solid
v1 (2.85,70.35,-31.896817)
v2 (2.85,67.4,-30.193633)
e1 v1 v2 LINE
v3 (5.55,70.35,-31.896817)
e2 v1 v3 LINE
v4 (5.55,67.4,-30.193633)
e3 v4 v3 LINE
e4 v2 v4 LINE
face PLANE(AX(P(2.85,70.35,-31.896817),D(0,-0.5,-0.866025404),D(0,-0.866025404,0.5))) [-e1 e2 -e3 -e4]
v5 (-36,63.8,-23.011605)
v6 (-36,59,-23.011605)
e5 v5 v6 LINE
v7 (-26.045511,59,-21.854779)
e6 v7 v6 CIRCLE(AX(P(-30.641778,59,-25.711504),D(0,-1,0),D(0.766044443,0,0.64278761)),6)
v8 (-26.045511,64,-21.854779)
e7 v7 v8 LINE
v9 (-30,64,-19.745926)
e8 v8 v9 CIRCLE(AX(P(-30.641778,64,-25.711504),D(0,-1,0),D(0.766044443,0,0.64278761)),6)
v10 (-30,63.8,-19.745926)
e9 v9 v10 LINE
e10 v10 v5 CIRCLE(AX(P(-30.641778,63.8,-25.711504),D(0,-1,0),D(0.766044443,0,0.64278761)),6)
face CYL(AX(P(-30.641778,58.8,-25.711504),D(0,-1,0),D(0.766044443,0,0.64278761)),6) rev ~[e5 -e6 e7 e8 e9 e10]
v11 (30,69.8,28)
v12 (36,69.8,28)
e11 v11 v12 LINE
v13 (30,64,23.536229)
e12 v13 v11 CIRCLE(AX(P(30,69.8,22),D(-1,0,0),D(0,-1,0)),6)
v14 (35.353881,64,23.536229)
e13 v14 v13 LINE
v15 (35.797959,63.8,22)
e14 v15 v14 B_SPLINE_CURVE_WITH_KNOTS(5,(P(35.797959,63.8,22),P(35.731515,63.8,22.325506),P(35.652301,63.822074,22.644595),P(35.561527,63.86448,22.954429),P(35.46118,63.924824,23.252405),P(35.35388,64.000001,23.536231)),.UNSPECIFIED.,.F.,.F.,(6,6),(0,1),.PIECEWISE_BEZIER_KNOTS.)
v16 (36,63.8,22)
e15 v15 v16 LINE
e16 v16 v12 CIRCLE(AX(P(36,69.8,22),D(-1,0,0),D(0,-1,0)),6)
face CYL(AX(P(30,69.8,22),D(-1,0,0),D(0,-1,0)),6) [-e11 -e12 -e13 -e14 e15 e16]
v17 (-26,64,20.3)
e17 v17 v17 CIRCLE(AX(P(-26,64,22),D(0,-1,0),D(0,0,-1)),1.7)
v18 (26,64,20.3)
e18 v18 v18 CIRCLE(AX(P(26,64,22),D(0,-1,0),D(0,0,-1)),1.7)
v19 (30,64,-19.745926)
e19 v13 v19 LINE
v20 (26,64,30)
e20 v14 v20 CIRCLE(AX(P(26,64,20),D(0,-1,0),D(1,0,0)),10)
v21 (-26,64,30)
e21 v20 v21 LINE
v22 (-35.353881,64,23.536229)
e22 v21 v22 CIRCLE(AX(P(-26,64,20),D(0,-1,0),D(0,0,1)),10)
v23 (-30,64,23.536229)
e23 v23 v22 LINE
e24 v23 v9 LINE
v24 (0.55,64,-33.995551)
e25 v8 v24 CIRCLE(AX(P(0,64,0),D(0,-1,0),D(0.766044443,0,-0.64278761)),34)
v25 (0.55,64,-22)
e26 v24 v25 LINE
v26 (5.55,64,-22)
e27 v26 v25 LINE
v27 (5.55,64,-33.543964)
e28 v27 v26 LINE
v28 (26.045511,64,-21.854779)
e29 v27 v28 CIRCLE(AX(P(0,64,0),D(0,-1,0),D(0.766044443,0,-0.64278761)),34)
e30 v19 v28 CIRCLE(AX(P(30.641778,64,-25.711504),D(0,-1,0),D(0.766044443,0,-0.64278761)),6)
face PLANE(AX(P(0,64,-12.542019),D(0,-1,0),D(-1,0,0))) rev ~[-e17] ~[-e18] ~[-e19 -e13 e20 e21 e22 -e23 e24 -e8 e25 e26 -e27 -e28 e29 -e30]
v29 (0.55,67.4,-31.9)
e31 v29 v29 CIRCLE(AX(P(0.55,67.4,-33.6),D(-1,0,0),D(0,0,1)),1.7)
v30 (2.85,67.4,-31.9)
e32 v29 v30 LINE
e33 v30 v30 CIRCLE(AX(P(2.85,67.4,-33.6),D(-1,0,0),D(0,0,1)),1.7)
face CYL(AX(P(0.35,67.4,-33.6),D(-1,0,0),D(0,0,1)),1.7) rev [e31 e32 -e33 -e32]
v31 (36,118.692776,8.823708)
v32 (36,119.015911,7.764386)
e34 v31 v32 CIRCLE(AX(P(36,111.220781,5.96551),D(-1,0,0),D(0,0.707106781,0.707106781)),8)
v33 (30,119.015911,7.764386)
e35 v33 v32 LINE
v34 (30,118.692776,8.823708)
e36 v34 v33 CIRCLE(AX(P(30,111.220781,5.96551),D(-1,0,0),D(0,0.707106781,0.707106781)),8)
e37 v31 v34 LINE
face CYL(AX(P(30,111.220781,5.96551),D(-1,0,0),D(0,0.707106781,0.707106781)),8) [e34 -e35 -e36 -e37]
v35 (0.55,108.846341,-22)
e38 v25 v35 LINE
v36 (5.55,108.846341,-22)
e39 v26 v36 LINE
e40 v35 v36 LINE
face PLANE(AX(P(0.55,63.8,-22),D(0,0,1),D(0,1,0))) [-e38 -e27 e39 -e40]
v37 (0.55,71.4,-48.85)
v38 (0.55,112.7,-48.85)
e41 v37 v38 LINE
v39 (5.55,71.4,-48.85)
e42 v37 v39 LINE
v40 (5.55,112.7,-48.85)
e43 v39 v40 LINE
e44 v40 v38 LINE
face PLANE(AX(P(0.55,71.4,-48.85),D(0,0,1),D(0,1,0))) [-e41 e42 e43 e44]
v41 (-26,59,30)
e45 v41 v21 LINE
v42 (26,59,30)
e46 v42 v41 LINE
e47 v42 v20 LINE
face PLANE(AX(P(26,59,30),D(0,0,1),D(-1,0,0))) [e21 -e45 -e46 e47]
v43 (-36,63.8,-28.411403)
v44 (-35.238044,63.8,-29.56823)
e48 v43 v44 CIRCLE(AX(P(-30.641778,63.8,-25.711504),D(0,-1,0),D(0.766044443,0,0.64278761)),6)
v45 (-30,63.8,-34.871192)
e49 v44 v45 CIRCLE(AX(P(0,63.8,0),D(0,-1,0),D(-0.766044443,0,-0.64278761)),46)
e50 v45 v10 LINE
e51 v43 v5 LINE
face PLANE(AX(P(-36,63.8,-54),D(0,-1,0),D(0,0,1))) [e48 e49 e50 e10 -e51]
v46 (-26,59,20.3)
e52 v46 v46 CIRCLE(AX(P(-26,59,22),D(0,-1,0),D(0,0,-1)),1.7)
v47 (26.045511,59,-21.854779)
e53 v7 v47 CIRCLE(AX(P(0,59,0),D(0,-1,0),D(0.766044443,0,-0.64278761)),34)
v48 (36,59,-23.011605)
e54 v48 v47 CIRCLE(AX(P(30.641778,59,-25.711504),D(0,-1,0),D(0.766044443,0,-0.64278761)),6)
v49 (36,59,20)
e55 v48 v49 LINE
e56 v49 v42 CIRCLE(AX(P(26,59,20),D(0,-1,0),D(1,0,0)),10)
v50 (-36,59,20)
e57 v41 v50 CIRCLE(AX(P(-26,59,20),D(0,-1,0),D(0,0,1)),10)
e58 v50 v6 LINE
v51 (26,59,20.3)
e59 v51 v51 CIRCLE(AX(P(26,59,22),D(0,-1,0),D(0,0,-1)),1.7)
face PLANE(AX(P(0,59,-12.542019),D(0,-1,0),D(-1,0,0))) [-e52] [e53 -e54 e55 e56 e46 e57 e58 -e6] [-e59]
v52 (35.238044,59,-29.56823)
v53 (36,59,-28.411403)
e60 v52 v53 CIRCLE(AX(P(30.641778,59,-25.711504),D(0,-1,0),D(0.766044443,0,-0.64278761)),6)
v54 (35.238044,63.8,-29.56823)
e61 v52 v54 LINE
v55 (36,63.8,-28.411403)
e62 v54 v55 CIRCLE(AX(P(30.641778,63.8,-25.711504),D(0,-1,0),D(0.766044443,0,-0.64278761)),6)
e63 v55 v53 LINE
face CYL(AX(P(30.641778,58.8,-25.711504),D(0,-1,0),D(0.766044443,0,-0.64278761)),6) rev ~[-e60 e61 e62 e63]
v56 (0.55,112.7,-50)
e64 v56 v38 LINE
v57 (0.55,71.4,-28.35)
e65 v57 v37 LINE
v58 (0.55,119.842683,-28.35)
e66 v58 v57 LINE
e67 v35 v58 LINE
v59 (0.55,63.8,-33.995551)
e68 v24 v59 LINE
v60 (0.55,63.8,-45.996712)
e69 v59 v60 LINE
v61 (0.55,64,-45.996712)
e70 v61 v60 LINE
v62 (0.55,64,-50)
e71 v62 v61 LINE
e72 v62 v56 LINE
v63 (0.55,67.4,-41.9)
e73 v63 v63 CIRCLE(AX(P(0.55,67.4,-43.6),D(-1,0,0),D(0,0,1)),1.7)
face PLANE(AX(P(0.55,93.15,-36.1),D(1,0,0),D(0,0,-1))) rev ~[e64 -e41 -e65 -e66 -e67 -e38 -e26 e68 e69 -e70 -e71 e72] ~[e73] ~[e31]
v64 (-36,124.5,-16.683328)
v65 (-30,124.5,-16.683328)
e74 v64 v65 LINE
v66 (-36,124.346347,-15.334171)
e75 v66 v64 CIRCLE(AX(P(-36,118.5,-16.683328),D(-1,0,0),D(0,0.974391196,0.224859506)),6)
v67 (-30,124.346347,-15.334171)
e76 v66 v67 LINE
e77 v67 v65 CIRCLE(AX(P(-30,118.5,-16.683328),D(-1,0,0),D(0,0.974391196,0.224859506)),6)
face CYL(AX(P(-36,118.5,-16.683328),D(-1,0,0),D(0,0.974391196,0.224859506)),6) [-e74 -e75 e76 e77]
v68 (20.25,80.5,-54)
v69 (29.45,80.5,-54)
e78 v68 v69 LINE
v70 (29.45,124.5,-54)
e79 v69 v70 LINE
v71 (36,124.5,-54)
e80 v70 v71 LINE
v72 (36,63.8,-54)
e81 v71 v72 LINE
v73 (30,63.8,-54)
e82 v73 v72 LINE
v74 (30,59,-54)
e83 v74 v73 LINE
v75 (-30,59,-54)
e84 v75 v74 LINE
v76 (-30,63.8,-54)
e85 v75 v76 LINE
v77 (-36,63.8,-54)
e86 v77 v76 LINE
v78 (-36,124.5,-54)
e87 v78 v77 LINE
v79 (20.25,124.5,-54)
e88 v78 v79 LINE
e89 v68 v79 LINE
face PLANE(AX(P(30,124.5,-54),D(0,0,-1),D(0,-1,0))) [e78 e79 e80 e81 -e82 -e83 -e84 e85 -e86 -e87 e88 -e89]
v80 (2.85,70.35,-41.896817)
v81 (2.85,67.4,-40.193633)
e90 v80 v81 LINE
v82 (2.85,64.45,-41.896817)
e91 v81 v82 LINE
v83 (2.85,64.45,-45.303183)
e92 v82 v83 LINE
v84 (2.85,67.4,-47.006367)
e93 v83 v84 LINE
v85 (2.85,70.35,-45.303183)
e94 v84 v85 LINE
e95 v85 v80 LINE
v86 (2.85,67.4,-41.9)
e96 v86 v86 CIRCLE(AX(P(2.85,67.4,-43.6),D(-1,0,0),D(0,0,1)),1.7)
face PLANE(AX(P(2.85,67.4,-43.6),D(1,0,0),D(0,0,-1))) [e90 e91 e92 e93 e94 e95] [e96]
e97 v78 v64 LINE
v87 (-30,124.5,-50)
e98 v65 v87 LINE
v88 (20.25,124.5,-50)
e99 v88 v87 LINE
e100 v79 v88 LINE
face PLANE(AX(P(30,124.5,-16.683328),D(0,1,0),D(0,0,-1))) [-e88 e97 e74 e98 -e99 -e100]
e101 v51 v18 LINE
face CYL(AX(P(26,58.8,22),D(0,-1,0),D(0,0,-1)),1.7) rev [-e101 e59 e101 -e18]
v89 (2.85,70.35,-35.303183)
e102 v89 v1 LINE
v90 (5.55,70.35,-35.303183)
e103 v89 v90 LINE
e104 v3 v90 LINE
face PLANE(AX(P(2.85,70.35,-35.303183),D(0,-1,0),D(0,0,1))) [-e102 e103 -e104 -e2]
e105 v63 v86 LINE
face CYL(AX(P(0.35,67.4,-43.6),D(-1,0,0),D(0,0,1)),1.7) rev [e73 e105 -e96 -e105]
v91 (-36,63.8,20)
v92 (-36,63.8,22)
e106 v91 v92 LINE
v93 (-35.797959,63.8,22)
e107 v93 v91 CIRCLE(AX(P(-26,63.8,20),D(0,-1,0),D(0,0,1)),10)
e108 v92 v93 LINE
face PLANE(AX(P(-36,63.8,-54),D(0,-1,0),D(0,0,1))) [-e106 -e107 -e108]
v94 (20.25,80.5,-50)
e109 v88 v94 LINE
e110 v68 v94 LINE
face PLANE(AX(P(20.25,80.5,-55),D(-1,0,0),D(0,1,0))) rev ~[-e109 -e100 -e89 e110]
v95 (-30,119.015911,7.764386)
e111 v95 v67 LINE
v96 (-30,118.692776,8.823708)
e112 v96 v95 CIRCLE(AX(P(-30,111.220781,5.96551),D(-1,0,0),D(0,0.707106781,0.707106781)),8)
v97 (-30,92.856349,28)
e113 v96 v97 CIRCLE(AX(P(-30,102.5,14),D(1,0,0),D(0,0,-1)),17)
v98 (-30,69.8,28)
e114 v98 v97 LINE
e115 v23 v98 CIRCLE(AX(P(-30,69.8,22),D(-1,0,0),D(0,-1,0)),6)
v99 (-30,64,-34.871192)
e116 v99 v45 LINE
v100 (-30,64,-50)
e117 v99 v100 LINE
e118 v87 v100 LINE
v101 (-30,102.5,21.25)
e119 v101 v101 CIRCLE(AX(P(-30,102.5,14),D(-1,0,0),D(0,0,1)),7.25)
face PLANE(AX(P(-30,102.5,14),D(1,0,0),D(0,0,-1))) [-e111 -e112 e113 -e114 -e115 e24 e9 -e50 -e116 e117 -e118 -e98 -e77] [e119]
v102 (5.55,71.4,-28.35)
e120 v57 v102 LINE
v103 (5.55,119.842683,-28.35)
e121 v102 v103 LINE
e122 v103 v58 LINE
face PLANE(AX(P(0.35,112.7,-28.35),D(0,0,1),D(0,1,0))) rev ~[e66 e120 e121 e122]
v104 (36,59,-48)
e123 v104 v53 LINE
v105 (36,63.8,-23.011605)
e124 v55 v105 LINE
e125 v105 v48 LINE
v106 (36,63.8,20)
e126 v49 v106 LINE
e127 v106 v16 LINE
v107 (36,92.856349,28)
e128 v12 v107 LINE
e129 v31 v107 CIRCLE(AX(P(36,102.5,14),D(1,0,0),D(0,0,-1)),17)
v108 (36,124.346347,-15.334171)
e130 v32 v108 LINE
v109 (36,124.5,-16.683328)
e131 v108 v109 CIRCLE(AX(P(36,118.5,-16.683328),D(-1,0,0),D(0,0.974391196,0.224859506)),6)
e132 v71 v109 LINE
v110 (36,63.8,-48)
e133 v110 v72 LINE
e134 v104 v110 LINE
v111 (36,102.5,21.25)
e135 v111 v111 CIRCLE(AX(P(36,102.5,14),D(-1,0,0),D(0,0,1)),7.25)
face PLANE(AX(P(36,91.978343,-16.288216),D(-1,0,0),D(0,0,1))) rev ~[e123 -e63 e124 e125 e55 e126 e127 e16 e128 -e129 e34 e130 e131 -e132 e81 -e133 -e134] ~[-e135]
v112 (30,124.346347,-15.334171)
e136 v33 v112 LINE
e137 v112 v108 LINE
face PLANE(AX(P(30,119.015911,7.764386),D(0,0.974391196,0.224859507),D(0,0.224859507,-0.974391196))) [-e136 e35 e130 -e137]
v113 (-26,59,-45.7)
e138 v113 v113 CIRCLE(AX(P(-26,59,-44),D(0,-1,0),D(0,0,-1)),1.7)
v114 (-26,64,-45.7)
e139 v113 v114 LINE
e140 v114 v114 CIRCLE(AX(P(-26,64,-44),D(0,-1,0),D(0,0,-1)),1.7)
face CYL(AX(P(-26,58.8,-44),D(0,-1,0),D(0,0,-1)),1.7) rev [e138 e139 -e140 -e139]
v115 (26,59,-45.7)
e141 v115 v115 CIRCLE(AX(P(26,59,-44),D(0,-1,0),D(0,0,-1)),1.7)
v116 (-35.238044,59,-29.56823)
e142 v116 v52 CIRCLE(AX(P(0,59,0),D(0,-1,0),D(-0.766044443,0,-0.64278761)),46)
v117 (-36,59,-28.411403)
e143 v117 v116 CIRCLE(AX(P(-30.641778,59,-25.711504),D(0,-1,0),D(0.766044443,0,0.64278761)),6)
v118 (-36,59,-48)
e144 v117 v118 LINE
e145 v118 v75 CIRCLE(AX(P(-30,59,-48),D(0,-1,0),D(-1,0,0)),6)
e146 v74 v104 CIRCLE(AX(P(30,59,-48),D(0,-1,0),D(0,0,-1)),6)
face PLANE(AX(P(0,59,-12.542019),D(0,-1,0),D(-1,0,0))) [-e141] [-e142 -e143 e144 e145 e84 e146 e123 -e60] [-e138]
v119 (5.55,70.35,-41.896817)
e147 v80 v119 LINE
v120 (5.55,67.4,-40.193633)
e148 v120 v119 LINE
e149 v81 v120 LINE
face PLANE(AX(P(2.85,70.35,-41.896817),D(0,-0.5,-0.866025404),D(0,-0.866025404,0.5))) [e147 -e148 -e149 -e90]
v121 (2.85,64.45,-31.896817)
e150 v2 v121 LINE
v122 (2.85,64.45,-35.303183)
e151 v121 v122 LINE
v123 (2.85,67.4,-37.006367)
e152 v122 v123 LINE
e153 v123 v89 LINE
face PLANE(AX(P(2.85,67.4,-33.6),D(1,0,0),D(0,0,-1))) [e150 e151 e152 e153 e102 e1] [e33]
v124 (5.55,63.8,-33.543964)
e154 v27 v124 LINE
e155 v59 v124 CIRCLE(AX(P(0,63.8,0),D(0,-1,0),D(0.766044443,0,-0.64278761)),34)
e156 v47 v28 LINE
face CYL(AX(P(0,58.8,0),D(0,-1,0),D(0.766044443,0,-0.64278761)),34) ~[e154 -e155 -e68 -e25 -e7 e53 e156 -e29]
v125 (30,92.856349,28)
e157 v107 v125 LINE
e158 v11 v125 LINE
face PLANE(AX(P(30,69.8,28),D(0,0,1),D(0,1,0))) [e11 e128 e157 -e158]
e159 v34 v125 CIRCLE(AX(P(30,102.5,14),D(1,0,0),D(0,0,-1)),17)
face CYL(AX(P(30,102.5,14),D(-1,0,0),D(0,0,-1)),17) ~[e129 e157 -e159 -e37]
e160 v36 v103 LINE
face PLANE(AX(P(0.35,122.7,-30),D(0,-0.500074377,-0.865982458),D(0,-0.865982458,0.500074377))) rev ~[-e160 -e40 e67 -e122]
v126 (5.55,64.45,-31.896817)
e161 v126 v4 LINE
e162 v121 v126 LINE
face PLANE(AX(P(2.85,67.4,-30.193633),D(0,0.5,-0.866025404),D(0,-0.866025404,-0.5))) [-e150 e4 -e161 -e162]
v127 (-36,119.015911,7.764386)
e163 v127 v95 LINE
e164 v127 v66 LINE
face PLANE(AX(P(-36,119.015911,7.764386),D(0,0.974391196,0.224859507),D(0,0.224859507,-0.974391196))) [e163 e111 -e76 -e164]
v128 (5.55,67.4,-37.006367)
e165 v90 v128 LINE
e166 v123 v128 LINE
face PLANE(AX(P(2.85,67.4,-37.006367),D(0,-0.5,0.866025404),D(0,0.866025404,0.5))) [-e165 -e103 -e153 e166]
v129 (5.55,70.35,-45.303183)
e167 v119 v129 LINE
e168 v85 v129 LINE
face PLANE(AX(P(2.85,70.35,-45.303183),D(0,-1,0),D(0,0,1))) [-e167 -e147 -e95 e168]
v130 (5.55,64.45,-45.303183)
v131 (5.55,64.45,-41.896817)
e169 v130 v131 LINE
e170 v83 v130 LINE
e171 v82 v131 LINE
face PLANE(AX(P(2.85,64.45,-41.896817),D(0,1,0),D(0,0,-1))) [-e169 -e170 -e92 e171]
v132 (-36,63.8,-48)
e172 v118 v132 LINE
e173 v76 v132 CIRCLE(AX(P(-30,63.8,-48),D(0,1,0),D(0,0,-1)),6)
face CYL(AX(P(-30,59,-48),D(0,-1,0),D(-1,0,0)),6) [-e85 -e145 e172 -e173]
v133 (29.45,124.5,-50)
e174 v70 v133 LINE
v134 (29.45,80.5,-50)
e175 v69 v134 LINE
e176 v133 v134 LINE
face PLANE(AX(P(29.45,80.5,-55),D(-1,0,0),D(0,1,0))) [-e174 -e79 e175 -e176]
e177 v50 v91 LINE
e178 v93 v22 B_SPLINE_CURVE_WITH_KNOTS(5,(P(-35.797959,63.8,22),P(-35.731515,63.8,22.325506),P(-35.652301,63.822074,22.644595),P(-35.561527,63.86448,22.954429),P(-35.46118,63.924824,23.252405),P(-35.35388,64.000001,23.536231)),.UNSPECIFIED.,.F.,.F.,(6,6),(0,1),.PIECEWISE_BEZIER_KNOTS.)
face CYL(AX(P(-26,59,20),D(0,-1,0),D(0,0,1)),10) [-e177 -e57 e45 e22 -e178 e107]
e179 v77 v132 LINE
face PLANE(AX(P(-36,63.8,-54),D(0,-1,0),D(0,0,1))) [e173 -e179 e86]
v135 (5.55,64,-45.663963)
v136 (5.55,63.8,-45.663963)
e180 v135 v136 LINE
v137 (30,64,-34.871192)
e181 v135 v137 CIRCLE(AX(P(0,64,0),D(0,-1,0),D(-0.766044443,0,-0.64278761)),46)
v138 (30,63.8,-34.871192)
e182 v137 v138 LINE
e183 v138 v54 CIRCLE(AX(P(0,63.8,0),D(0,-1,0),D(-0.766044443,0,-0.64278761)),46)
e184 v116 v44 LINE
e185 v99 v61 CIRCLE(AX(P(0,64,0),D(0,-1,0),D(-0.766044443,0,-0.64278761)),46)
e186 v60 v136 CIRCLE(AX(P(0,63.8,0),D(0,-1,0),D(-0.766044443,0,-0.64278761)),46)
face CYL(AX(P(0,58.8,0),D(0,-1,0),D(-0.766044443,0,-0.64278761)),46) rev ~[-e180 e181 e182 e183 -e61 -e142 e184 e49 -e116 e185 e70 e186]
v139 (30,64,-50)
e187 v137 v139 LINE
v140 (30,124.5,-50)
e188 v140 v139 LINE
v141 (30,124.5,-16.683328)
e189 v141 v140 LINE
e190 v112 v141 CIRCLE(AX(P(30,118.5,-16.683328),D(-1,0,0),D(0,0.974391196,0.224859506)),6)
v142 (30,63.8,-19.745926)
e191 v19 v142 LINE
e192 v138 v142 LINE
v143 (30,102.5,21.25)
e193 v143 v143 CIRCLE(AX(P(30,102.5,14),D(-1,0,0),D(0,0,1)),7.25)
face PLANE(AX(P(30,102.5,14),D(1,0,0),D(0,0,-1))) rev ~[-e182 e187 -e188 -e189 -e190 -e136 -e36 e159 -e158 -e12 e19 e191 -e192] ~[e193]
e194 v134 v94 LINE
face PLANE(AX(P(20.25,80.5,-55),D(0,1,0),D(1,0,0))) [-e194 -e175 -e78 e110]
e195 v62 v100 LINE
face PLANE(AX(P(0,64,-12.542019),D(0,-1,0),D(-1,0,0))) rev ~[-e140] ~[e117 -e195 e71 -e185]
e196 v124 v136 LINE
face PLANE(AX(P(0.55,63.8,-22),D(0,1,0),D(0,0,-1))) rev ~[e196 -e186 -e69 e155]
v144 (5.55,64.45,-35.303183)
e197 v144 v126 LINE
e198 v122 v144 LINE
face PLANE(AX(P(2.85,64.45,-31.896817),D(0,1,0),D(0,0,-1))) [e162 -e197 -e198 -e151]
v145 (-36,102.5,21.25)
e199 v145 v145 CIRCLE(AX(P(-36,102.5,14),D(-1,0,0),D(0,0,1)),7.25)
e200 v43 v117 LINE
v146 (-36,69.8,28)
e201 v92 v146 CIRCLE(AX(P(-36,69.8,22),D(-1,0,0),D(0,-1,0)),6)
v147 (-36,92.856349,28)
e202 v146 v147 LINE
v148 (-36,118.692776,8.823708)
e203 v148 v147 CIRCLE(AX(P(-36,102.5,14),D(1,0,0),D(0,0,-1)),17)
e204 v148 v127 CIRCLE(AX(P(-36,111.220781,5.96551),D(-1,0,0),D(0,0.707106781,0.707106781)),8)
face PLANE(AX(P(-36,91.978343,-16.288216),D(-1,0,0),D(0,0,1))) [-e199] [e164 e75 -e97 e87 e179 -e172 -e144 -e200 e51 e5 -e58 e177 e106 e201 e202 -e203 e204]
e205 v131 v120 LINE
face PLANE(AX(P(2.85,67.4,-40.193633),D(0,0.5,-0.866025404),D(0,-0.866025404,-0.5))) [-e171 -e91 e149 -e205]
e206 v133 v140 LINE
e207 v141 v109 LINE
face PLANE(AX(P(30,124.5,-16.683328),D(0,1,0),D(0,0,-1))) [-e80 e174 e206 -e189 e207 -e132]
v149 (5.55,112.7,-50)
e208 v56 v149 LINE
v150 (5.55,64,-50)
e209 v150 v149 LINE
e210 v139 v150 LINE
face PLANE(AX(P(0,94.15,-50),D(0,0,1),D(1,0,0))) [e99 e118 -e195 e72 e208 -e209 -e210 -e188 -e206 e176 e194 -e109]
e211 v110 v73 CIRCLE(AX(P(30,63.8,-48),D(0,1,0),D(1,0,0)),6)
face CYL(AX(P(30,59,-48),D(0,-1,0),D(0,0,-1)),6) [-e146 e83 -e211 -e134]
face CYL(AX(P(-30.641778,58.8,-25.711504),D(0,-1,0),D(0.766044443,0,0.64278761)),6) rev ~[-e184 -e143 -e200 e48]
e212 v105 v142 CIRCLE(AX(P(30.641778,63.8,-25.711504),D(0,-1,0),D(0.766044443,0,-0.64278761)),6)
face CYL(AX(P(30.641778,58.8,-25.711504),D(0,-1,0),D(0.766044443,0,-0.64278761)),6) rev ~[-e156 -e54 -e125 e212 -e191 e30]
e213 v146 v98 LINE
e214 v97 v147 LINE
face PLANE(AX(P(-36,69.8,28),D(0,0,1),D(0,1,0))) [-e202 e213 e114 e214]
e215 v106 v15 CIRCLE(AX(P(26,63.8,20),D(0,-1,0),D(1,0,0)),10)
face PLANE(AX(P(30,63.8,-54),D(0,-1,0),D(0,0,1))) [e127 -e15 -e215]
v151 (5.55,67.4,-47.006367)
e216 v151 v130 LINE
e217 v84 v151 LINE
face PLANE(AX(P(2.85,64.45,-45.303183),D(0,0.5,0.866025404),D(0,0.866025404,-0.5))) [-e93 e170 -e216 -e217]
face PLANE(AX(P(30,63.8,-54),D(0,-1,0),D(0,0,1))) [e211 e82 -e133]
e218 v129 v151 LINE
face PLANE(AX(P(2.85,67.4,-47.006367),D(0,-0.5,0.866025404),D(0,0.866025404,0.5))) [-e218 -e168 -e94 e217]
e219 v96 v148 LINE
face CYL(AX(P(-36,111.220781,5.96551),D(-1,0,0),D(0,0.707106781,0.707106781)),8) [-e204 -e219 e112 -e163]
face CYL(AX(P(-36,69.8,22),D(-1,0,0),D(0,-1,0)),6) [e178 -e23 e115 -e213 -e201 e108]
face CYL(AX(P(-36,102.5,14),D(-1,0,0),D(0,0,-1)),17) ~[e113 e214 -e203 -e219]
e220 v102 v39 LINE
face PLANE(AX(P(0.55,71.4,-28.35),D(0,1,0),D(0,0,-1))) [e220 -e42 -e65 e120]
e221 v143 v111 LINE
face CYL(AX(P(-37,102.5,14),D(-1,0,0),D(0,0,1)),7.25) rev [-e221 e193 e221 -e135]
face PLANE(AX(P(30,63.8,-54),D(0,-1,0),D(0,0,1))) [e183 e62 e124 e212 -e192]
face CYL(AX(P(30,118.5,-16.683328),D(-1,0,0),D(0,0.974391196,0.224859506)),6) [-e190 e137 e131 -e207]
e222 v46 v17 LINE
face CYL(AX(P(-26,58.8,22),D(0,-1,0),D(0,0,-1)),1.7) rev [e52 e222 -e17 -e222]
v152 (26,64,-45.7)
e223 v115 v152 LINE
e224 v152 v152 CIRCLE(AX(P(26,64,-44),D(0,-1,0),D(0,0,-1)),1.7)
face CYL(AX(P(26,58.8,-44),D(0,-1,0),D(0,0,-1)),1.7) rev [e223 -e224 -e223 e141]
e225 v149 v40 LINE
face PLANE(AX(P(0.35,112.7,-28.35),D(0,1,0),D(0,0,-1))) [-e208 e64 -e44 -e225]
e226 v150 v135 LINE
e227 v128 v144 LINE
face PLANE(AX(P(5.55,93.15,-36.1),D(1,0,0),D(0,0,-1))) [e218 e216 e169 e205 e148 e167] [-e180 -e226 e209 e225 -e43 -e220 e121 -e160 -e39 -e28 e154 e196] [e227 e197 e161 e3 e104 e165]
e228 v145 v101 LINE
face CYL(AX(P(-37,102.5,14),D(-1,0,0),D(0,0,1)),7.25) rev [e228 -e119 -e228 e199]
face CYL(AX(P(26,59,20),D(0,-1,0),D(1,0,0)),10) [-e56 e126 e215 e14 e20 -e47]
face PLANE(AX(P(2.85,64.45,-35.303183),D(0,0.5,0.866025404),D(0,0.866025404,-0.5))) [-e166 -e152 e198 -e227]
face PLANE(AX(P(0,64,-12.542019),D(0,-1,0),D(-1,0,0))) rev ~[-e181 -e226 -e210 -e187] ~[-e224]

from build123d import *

# Parameters (mm, degrees)
BASE_START                                   = 59
BASE_PLATE_DEPTH                             = 5
BOLT_START                                   = 58.8
SKETCH2_R                                    = 1.7
BOLT_HOLES_CABLE_KIDNEY_DEPTH                = 5.4
CHEEK_START                                  = -36
CHEEK_X_DEPTH                                = 6
PIVOT_START                                  = -36
SKETCH4_R                                    = 17
PIVOT_BOSS_X_DEPTH                           = 6
CHEEK_START_2                                = 30
CHEEK_X_2_DEPTH                              = 6
PIVOT_START_2                                = 30
SKETCH6_R                                    = 17
PIVOT_BOSS_X_2_DEPTH                         = 6
JOURNAL_START                                = -37
SKETCH7_R                                    = 7.25
JOURNAL_BORES_DEPTH                          = 74
BACK_START                                   = -54
SKETCH8_W                                    = 72
SKETCH8_H                                    = 60.7
BACK_WALL_DEPTH                              = 4
PINION_START                                 = -55
SKETCH9_W                                    = 9.2
SKETCH9_H                                    = 45
PINION_NOTCH_DEPTH                           = 6
SERVO_START                                  = 0.55
SKETCH10_W                                   = 28.2
SKETCH10_H                                   = 58.7
SKETCH10_W_2                                 = 20.5
SKETCH10_H_2                                 = 41.5
SERVO_BULKHEAD_DEPTH                         = 5
TAB_START                                    = 0.35
SKETCH11_R                                   = 1.7
TAB_BOLT_HOLES_DEPTH                         = 5.4
TAB_START_2                                  = 2.85
TAB_NUT_POCKETS_DEPTH                        = 2.9
BULKHEAD_START                               = 0.35
BULKHEAD_CHAMFER_DEPTH                       = 5.4
HAND_START                                   = 0.35
SKETCH14_W                                   = 21.65
SKETCH14_H                                   = 13.8
HAND_FIX_BAR_OVER_THE_SERVO_WINDOW_SAW_DEPTH = 5.4


with BuildPart() as part:
    # Sketch1 → Base plate (new body)
    with BuildSketch(Plane(origin=(0, 0, 0), x_dir=(1, 0, 0), z_dir=(0, 1, 0)).offset(BASE_START)):
        with BuildLine():
            Line((-30, 54), (30, 54))
            ThreePointArc((30, 54), (34.242640687, 52.242640687), (36, 48))
            Line((36, 48), (36, -20))
            ThreePointArc((36, -20), (33.071067812, -27.071067812), (26, -30))
            Line((26, -30), (-26, -30))
            ThreePointArc((-26, -30), (-33.071067812, -27.071067812), (-36, -20))
            Line((-36, -20), (-36, 48))
            ThreePointArc((-36, 48), (-34.242640687, 52.242640687), (-30, 54))
        make_face()
    extrude(amount=BASE_PLATE_DEPTH)

    # Sketch2 → Bolt holes + cable kidney (cut)
    with BuildSketch(Plane(origin=(0, 0, 0), x_dir=(1, 0, 0), z_dir=(0, 1, 0)).offset(BOLT_START)):
        with Locations((-26, 44)):
            Circle(SKETCH2_R)
        with Locations((-26, -22)):
            Circle(SKETCH2_R)
        with Locations((26, 44)):
            Circle(SKETCH2_R)
        with Locations((26, -22)):
            Circle(SKETCH2_R)
        with BuildLine():
            ThreePointArc((-35.238044383, 29.568230046), (0, 46), (35.238044383, 29.568230046))
            ThreePointArc((35.238044383, 29.568230046), (34.498503383, 21.115237729), (26.045511066, 21.854778729))
            ThreePointArc((26.045511066, 21.854778729), (0, 34), (-26.045511066, 21.854778729))
            ThreePointArc((-26.045511066, 21.854778729), (-34.498503383, 21.115237729), (-35.238044383, 29.568230046))
        make_face()
    extrude(amount=BOLT_HOLES_CABLE_KIDNEY_DEPTH, mode=Mode.SUBTRACT)


with BuildPart() as bolt_holes_cable_kidney_piece_1:
    # of the separate pieces the step leaves, piece 1, a body of its own (bolt_holes_cable_kidney_pieces)
    add(part.part.solids().sort_by_distance((-36, 59, 20))[0])



with BuildPart() as bolt_holes_cable_kidney_piece_2:
    # of the separate pieces the step leaves, piece 2, a body of its own (bolt_holes_cable_kidney_pieces)
    add(part.part.solids().sort_by_distance((-30, 59, -54))[0])


with BuildPart() as bolt_holes_cable_kidney_piece_1_1:
    add(bolt_holes_cable_kidney_piece_1.part)

    add(bolt_holes_cable_kidney_piece_2.part)  # Cheek -X merges Bolt holes + cable kidney piece 2
    # Sketch3 → Cheek -X (add)
    with BuildSketch(Plane(origin=(0, 0, 0), x_dir=(0, 0, -1), z_dir=(1, 0, 0)).offset(CHEEK_START)):
        with BuildLine():
            Line((54, 63.8), (-22, 63.8))
            ThreePointArc((-22, 63.8), (-26.242640687, 65.557359313), (-28, 69.8))
            Line((-28, 69.8), (-28, 96.357864376))
            ThreePointArc((-28, 96.357864376), (-27.238795325, 100.1846987), (-25.071067812, 103.428932188))
            Line((-25.071067812, 103.428932188), (-11.622364452, 116.877635548))
            ThreePointArc((-11.622364452, 116.877635548), (-9.843658462, 118.217921148), (-7.764386256, 119.015910864))
            Line((-7.764386256, 119.015910864), (15.334171088, 124.346347174))
            ThreePointArc((15.334171088, 124.346347174), (16.004388899, 124.461463035), (16.683328128, 124.5))
            Line((16.683328128, 124.5), (54, 124.5))
            Line((54, 124.5), (54, 63.8))
        make_face()
    extrude(amount=CHEEK_X_DEPTH)

    # Sketch4 → Pivot boss -X (add)
    with BuildSketch(Plane(origin=(0, 0, 0), x_dir=(0, 0, -1), z_dir=(1, 0, 0)).offset(PIVOT_START)):
        with Locations((-14, 102.5)):
            Circle(SKETCH4_R)
    extrude(amount=PIVOT_BOSS_X_DEPTH)

    # Sketch5 → Cheek _X 2 (add)
    with BuildSketch(Plane(origin=(0, 0, 0), x_dir=(0, 0, -1), z_dir=(1, 0, 0)).offset(CHEEK_START_2)):
        with BuildLine():
            Line((54, 63.8), (-22, 63.8))
            ThreePointArc((-22, 63.8), (-26.242640687, 65.557359313), (-28, 69.8))
            Line((-28, 69.8), (-28, 96.357864376))
            ThreePointArc((-28, 96.357864376), (-27.238795325, 100.1846987), (-25.071067812, 103.428932188))
            Line((-25.071067812, 103.428932188), (-11.622364452, 116.877635548))
            ThreePointArc((-11.622364452, 116.877635548), (-9.843658462, 118.217921148), (-7.764386256, 119.015910864))
            Line((-7.764386256, 119.015910864), (15.334171088, 124.346347174))
            ThreePointArc((15.334171088, 124.346347174), (16.004388899, 124.461463035), (16.683328128, 124.5))
            Line((16.683328128, 124.5), (54, 124.5))
            Line((54, 124.5), (54, 63.8))
        make_face()
    extrude(amount=CHEEK_X_2_DEPTH)

    # Sketch6 → Pivot boss _X 2 (add)
    with BuildSketch(Plane(origin=(0, 0, 0), x_dir=(0, 0, -1), z_dir=(1, 0, 0)).offset(PIVOT_START_2)):
        with Locations((-14, 102.5)):
            Circle(SKETCH6_R)
    extrude(amount=PIVOT_BOSS_X_2_DEPTH)

    # Sketch7 → Journal bores (cut)
    with BuildSketch(Plane(origin=(0, 0, 0), x_dir=(0, 0, -1), z_dir=(1, 0, 0)).offset(JOURNAL_START)):
        with Locations((-14, 102.5)):
            Circle(SKETCH7_R)
    extrude(amount=JOURNAL_BORES_DEPTH, mode=Mode.SUBTRACT)

    # Sketch8 → Back wall (add)
    with BuildSketch(Plane.XY.offset(BACK_START)):
        with Locations((0, 94.15)):
            Rectangle(SKETCH8_W, SKETCH8_H)
    extrude(amount=BACK_WALL_DEPTH)

    # Sketch9 → Pinion notch (cut)
    with BuildSketch(Plane.XY.offset(PINION_START)):
        with Locations((24.85, 103)):
            Rectangle(SKETCH9_W, SKETCH9_H)
    extrude(amount=PINION_NOTCH_DEPTH, mode=Mode.SUBTRACT)

    # Sketch10 → Servo bulkhead (add)
    with BuildSketch(Plane(origin=(0, 0, 0), x_dir=(0, 0, -1), z_dir=(1, 0, 0)).offset(SERVO_START)):
        with Locations((36.1, 93.15)):
            Rectangle(SKETCH10_W, SKETCH10_H)
        with Locations((38.6, 92.15)):
            Rectangle(SKETCH10_W_2, SKETCH10_H_2, mode=Mode.SUBTRACT)
    extrude(amount=SERVO_BULKHEAD_DEPTH)

    # Sketch11 → Tab bolt holes (cut)
    with BuildSketch(Plane(origin=(0, 0, 0), x_dir=(0, 0, -1), z_dir=(1, 0, 0)).offset(TAB_START)):
        with Locations((33.6, 116.9)):
            Circle(SKETCH11_R)
        with Locations((43.6, 116.9)):
            Circle(SKETCH11_R)
        with Locations((33.6, 67.4)):
            Circle(SKETCH11_R)
        with Locations((43.6, 67.4)):
            Circle(SKETCH11_R)
    extrude(amount=TAB_BOLT_HOLES_DEPTH, mode=Mode.SUBTRACT)

    # Sketch12 → Tab nut pockets (cut)
    with BuildSketch(Plane(origin=(0, 0, 0), x_dir=(0, 0, -1), z_dir=(1, 0, 0)).offset(TAB_START_2)):
        Polygon((31.896816706, 119.85), (30.193633412, 116.9), (31.896816706, 113.95), (35.303183294, 113.95), (37.006366588, 116.9), (35.303183294, 119.85), align=None)
        Polygon((41.896816706, 119.85), (40.193633412, 116.9), (41.896816706, 113.95), (45.303183294, 113.95), (47.006366588, 116.9), (45.303183294, 119.85), align=None)
        Polygon((31.896816706, 70.35), (30.193633412, 67.4), (31.896816706, 64.45), (35.303183294, 64.45), (37.006366588, 67.4), (35.303183294, 70.35), align=None)
        Polygon((41.896816706, 70.35), (40.193633412, 67.4), (41.896816706, 64.45), (45.303183294, 64.45), (47.006366588, 67.4), (45.303183294, 70.35), align=None)
    extrude(amount=TAB_NUT_POCKETS_DEPTH, mode=Mode.SUBTRACT)

    # Sketch13 → Bulkhead chamfer (cut)
    with BuildSketch(Plane(origin=(0, 0, 0), x_dir=(0, 0, -1), z_dir=(1, 0, 0)).offset(BULKHEAD_START)):
        Polygon((21.8, 108.5), (21.8, 122.7), (30, 122.7), align=None)
    extrude(amount=BULKHEAD_CHAMFER_DEPTH, mode=Mode.SUBTRACT)

    # Sketch14 → HAND FIX - bar over the servo window sawn out (cut)
    with BuildSketch(Plane(origin=(0, 0, 0), x_dir=(0, 0, -1), z_dir=(1, 0, 0)).offset(HAND_START)):
        with Locations((39.175, 119.6)):
            Rectangle(SKETCH14_W, SKETCH14_H)
    extrude(amount=HAND_FIX_BAR_OVER_THE_SERVO_WINDOW_SAW_DEPTH, mode=Mode.SUBTRACT)


solid = bolt_holes_cable_kidney_piece_1_1.part
